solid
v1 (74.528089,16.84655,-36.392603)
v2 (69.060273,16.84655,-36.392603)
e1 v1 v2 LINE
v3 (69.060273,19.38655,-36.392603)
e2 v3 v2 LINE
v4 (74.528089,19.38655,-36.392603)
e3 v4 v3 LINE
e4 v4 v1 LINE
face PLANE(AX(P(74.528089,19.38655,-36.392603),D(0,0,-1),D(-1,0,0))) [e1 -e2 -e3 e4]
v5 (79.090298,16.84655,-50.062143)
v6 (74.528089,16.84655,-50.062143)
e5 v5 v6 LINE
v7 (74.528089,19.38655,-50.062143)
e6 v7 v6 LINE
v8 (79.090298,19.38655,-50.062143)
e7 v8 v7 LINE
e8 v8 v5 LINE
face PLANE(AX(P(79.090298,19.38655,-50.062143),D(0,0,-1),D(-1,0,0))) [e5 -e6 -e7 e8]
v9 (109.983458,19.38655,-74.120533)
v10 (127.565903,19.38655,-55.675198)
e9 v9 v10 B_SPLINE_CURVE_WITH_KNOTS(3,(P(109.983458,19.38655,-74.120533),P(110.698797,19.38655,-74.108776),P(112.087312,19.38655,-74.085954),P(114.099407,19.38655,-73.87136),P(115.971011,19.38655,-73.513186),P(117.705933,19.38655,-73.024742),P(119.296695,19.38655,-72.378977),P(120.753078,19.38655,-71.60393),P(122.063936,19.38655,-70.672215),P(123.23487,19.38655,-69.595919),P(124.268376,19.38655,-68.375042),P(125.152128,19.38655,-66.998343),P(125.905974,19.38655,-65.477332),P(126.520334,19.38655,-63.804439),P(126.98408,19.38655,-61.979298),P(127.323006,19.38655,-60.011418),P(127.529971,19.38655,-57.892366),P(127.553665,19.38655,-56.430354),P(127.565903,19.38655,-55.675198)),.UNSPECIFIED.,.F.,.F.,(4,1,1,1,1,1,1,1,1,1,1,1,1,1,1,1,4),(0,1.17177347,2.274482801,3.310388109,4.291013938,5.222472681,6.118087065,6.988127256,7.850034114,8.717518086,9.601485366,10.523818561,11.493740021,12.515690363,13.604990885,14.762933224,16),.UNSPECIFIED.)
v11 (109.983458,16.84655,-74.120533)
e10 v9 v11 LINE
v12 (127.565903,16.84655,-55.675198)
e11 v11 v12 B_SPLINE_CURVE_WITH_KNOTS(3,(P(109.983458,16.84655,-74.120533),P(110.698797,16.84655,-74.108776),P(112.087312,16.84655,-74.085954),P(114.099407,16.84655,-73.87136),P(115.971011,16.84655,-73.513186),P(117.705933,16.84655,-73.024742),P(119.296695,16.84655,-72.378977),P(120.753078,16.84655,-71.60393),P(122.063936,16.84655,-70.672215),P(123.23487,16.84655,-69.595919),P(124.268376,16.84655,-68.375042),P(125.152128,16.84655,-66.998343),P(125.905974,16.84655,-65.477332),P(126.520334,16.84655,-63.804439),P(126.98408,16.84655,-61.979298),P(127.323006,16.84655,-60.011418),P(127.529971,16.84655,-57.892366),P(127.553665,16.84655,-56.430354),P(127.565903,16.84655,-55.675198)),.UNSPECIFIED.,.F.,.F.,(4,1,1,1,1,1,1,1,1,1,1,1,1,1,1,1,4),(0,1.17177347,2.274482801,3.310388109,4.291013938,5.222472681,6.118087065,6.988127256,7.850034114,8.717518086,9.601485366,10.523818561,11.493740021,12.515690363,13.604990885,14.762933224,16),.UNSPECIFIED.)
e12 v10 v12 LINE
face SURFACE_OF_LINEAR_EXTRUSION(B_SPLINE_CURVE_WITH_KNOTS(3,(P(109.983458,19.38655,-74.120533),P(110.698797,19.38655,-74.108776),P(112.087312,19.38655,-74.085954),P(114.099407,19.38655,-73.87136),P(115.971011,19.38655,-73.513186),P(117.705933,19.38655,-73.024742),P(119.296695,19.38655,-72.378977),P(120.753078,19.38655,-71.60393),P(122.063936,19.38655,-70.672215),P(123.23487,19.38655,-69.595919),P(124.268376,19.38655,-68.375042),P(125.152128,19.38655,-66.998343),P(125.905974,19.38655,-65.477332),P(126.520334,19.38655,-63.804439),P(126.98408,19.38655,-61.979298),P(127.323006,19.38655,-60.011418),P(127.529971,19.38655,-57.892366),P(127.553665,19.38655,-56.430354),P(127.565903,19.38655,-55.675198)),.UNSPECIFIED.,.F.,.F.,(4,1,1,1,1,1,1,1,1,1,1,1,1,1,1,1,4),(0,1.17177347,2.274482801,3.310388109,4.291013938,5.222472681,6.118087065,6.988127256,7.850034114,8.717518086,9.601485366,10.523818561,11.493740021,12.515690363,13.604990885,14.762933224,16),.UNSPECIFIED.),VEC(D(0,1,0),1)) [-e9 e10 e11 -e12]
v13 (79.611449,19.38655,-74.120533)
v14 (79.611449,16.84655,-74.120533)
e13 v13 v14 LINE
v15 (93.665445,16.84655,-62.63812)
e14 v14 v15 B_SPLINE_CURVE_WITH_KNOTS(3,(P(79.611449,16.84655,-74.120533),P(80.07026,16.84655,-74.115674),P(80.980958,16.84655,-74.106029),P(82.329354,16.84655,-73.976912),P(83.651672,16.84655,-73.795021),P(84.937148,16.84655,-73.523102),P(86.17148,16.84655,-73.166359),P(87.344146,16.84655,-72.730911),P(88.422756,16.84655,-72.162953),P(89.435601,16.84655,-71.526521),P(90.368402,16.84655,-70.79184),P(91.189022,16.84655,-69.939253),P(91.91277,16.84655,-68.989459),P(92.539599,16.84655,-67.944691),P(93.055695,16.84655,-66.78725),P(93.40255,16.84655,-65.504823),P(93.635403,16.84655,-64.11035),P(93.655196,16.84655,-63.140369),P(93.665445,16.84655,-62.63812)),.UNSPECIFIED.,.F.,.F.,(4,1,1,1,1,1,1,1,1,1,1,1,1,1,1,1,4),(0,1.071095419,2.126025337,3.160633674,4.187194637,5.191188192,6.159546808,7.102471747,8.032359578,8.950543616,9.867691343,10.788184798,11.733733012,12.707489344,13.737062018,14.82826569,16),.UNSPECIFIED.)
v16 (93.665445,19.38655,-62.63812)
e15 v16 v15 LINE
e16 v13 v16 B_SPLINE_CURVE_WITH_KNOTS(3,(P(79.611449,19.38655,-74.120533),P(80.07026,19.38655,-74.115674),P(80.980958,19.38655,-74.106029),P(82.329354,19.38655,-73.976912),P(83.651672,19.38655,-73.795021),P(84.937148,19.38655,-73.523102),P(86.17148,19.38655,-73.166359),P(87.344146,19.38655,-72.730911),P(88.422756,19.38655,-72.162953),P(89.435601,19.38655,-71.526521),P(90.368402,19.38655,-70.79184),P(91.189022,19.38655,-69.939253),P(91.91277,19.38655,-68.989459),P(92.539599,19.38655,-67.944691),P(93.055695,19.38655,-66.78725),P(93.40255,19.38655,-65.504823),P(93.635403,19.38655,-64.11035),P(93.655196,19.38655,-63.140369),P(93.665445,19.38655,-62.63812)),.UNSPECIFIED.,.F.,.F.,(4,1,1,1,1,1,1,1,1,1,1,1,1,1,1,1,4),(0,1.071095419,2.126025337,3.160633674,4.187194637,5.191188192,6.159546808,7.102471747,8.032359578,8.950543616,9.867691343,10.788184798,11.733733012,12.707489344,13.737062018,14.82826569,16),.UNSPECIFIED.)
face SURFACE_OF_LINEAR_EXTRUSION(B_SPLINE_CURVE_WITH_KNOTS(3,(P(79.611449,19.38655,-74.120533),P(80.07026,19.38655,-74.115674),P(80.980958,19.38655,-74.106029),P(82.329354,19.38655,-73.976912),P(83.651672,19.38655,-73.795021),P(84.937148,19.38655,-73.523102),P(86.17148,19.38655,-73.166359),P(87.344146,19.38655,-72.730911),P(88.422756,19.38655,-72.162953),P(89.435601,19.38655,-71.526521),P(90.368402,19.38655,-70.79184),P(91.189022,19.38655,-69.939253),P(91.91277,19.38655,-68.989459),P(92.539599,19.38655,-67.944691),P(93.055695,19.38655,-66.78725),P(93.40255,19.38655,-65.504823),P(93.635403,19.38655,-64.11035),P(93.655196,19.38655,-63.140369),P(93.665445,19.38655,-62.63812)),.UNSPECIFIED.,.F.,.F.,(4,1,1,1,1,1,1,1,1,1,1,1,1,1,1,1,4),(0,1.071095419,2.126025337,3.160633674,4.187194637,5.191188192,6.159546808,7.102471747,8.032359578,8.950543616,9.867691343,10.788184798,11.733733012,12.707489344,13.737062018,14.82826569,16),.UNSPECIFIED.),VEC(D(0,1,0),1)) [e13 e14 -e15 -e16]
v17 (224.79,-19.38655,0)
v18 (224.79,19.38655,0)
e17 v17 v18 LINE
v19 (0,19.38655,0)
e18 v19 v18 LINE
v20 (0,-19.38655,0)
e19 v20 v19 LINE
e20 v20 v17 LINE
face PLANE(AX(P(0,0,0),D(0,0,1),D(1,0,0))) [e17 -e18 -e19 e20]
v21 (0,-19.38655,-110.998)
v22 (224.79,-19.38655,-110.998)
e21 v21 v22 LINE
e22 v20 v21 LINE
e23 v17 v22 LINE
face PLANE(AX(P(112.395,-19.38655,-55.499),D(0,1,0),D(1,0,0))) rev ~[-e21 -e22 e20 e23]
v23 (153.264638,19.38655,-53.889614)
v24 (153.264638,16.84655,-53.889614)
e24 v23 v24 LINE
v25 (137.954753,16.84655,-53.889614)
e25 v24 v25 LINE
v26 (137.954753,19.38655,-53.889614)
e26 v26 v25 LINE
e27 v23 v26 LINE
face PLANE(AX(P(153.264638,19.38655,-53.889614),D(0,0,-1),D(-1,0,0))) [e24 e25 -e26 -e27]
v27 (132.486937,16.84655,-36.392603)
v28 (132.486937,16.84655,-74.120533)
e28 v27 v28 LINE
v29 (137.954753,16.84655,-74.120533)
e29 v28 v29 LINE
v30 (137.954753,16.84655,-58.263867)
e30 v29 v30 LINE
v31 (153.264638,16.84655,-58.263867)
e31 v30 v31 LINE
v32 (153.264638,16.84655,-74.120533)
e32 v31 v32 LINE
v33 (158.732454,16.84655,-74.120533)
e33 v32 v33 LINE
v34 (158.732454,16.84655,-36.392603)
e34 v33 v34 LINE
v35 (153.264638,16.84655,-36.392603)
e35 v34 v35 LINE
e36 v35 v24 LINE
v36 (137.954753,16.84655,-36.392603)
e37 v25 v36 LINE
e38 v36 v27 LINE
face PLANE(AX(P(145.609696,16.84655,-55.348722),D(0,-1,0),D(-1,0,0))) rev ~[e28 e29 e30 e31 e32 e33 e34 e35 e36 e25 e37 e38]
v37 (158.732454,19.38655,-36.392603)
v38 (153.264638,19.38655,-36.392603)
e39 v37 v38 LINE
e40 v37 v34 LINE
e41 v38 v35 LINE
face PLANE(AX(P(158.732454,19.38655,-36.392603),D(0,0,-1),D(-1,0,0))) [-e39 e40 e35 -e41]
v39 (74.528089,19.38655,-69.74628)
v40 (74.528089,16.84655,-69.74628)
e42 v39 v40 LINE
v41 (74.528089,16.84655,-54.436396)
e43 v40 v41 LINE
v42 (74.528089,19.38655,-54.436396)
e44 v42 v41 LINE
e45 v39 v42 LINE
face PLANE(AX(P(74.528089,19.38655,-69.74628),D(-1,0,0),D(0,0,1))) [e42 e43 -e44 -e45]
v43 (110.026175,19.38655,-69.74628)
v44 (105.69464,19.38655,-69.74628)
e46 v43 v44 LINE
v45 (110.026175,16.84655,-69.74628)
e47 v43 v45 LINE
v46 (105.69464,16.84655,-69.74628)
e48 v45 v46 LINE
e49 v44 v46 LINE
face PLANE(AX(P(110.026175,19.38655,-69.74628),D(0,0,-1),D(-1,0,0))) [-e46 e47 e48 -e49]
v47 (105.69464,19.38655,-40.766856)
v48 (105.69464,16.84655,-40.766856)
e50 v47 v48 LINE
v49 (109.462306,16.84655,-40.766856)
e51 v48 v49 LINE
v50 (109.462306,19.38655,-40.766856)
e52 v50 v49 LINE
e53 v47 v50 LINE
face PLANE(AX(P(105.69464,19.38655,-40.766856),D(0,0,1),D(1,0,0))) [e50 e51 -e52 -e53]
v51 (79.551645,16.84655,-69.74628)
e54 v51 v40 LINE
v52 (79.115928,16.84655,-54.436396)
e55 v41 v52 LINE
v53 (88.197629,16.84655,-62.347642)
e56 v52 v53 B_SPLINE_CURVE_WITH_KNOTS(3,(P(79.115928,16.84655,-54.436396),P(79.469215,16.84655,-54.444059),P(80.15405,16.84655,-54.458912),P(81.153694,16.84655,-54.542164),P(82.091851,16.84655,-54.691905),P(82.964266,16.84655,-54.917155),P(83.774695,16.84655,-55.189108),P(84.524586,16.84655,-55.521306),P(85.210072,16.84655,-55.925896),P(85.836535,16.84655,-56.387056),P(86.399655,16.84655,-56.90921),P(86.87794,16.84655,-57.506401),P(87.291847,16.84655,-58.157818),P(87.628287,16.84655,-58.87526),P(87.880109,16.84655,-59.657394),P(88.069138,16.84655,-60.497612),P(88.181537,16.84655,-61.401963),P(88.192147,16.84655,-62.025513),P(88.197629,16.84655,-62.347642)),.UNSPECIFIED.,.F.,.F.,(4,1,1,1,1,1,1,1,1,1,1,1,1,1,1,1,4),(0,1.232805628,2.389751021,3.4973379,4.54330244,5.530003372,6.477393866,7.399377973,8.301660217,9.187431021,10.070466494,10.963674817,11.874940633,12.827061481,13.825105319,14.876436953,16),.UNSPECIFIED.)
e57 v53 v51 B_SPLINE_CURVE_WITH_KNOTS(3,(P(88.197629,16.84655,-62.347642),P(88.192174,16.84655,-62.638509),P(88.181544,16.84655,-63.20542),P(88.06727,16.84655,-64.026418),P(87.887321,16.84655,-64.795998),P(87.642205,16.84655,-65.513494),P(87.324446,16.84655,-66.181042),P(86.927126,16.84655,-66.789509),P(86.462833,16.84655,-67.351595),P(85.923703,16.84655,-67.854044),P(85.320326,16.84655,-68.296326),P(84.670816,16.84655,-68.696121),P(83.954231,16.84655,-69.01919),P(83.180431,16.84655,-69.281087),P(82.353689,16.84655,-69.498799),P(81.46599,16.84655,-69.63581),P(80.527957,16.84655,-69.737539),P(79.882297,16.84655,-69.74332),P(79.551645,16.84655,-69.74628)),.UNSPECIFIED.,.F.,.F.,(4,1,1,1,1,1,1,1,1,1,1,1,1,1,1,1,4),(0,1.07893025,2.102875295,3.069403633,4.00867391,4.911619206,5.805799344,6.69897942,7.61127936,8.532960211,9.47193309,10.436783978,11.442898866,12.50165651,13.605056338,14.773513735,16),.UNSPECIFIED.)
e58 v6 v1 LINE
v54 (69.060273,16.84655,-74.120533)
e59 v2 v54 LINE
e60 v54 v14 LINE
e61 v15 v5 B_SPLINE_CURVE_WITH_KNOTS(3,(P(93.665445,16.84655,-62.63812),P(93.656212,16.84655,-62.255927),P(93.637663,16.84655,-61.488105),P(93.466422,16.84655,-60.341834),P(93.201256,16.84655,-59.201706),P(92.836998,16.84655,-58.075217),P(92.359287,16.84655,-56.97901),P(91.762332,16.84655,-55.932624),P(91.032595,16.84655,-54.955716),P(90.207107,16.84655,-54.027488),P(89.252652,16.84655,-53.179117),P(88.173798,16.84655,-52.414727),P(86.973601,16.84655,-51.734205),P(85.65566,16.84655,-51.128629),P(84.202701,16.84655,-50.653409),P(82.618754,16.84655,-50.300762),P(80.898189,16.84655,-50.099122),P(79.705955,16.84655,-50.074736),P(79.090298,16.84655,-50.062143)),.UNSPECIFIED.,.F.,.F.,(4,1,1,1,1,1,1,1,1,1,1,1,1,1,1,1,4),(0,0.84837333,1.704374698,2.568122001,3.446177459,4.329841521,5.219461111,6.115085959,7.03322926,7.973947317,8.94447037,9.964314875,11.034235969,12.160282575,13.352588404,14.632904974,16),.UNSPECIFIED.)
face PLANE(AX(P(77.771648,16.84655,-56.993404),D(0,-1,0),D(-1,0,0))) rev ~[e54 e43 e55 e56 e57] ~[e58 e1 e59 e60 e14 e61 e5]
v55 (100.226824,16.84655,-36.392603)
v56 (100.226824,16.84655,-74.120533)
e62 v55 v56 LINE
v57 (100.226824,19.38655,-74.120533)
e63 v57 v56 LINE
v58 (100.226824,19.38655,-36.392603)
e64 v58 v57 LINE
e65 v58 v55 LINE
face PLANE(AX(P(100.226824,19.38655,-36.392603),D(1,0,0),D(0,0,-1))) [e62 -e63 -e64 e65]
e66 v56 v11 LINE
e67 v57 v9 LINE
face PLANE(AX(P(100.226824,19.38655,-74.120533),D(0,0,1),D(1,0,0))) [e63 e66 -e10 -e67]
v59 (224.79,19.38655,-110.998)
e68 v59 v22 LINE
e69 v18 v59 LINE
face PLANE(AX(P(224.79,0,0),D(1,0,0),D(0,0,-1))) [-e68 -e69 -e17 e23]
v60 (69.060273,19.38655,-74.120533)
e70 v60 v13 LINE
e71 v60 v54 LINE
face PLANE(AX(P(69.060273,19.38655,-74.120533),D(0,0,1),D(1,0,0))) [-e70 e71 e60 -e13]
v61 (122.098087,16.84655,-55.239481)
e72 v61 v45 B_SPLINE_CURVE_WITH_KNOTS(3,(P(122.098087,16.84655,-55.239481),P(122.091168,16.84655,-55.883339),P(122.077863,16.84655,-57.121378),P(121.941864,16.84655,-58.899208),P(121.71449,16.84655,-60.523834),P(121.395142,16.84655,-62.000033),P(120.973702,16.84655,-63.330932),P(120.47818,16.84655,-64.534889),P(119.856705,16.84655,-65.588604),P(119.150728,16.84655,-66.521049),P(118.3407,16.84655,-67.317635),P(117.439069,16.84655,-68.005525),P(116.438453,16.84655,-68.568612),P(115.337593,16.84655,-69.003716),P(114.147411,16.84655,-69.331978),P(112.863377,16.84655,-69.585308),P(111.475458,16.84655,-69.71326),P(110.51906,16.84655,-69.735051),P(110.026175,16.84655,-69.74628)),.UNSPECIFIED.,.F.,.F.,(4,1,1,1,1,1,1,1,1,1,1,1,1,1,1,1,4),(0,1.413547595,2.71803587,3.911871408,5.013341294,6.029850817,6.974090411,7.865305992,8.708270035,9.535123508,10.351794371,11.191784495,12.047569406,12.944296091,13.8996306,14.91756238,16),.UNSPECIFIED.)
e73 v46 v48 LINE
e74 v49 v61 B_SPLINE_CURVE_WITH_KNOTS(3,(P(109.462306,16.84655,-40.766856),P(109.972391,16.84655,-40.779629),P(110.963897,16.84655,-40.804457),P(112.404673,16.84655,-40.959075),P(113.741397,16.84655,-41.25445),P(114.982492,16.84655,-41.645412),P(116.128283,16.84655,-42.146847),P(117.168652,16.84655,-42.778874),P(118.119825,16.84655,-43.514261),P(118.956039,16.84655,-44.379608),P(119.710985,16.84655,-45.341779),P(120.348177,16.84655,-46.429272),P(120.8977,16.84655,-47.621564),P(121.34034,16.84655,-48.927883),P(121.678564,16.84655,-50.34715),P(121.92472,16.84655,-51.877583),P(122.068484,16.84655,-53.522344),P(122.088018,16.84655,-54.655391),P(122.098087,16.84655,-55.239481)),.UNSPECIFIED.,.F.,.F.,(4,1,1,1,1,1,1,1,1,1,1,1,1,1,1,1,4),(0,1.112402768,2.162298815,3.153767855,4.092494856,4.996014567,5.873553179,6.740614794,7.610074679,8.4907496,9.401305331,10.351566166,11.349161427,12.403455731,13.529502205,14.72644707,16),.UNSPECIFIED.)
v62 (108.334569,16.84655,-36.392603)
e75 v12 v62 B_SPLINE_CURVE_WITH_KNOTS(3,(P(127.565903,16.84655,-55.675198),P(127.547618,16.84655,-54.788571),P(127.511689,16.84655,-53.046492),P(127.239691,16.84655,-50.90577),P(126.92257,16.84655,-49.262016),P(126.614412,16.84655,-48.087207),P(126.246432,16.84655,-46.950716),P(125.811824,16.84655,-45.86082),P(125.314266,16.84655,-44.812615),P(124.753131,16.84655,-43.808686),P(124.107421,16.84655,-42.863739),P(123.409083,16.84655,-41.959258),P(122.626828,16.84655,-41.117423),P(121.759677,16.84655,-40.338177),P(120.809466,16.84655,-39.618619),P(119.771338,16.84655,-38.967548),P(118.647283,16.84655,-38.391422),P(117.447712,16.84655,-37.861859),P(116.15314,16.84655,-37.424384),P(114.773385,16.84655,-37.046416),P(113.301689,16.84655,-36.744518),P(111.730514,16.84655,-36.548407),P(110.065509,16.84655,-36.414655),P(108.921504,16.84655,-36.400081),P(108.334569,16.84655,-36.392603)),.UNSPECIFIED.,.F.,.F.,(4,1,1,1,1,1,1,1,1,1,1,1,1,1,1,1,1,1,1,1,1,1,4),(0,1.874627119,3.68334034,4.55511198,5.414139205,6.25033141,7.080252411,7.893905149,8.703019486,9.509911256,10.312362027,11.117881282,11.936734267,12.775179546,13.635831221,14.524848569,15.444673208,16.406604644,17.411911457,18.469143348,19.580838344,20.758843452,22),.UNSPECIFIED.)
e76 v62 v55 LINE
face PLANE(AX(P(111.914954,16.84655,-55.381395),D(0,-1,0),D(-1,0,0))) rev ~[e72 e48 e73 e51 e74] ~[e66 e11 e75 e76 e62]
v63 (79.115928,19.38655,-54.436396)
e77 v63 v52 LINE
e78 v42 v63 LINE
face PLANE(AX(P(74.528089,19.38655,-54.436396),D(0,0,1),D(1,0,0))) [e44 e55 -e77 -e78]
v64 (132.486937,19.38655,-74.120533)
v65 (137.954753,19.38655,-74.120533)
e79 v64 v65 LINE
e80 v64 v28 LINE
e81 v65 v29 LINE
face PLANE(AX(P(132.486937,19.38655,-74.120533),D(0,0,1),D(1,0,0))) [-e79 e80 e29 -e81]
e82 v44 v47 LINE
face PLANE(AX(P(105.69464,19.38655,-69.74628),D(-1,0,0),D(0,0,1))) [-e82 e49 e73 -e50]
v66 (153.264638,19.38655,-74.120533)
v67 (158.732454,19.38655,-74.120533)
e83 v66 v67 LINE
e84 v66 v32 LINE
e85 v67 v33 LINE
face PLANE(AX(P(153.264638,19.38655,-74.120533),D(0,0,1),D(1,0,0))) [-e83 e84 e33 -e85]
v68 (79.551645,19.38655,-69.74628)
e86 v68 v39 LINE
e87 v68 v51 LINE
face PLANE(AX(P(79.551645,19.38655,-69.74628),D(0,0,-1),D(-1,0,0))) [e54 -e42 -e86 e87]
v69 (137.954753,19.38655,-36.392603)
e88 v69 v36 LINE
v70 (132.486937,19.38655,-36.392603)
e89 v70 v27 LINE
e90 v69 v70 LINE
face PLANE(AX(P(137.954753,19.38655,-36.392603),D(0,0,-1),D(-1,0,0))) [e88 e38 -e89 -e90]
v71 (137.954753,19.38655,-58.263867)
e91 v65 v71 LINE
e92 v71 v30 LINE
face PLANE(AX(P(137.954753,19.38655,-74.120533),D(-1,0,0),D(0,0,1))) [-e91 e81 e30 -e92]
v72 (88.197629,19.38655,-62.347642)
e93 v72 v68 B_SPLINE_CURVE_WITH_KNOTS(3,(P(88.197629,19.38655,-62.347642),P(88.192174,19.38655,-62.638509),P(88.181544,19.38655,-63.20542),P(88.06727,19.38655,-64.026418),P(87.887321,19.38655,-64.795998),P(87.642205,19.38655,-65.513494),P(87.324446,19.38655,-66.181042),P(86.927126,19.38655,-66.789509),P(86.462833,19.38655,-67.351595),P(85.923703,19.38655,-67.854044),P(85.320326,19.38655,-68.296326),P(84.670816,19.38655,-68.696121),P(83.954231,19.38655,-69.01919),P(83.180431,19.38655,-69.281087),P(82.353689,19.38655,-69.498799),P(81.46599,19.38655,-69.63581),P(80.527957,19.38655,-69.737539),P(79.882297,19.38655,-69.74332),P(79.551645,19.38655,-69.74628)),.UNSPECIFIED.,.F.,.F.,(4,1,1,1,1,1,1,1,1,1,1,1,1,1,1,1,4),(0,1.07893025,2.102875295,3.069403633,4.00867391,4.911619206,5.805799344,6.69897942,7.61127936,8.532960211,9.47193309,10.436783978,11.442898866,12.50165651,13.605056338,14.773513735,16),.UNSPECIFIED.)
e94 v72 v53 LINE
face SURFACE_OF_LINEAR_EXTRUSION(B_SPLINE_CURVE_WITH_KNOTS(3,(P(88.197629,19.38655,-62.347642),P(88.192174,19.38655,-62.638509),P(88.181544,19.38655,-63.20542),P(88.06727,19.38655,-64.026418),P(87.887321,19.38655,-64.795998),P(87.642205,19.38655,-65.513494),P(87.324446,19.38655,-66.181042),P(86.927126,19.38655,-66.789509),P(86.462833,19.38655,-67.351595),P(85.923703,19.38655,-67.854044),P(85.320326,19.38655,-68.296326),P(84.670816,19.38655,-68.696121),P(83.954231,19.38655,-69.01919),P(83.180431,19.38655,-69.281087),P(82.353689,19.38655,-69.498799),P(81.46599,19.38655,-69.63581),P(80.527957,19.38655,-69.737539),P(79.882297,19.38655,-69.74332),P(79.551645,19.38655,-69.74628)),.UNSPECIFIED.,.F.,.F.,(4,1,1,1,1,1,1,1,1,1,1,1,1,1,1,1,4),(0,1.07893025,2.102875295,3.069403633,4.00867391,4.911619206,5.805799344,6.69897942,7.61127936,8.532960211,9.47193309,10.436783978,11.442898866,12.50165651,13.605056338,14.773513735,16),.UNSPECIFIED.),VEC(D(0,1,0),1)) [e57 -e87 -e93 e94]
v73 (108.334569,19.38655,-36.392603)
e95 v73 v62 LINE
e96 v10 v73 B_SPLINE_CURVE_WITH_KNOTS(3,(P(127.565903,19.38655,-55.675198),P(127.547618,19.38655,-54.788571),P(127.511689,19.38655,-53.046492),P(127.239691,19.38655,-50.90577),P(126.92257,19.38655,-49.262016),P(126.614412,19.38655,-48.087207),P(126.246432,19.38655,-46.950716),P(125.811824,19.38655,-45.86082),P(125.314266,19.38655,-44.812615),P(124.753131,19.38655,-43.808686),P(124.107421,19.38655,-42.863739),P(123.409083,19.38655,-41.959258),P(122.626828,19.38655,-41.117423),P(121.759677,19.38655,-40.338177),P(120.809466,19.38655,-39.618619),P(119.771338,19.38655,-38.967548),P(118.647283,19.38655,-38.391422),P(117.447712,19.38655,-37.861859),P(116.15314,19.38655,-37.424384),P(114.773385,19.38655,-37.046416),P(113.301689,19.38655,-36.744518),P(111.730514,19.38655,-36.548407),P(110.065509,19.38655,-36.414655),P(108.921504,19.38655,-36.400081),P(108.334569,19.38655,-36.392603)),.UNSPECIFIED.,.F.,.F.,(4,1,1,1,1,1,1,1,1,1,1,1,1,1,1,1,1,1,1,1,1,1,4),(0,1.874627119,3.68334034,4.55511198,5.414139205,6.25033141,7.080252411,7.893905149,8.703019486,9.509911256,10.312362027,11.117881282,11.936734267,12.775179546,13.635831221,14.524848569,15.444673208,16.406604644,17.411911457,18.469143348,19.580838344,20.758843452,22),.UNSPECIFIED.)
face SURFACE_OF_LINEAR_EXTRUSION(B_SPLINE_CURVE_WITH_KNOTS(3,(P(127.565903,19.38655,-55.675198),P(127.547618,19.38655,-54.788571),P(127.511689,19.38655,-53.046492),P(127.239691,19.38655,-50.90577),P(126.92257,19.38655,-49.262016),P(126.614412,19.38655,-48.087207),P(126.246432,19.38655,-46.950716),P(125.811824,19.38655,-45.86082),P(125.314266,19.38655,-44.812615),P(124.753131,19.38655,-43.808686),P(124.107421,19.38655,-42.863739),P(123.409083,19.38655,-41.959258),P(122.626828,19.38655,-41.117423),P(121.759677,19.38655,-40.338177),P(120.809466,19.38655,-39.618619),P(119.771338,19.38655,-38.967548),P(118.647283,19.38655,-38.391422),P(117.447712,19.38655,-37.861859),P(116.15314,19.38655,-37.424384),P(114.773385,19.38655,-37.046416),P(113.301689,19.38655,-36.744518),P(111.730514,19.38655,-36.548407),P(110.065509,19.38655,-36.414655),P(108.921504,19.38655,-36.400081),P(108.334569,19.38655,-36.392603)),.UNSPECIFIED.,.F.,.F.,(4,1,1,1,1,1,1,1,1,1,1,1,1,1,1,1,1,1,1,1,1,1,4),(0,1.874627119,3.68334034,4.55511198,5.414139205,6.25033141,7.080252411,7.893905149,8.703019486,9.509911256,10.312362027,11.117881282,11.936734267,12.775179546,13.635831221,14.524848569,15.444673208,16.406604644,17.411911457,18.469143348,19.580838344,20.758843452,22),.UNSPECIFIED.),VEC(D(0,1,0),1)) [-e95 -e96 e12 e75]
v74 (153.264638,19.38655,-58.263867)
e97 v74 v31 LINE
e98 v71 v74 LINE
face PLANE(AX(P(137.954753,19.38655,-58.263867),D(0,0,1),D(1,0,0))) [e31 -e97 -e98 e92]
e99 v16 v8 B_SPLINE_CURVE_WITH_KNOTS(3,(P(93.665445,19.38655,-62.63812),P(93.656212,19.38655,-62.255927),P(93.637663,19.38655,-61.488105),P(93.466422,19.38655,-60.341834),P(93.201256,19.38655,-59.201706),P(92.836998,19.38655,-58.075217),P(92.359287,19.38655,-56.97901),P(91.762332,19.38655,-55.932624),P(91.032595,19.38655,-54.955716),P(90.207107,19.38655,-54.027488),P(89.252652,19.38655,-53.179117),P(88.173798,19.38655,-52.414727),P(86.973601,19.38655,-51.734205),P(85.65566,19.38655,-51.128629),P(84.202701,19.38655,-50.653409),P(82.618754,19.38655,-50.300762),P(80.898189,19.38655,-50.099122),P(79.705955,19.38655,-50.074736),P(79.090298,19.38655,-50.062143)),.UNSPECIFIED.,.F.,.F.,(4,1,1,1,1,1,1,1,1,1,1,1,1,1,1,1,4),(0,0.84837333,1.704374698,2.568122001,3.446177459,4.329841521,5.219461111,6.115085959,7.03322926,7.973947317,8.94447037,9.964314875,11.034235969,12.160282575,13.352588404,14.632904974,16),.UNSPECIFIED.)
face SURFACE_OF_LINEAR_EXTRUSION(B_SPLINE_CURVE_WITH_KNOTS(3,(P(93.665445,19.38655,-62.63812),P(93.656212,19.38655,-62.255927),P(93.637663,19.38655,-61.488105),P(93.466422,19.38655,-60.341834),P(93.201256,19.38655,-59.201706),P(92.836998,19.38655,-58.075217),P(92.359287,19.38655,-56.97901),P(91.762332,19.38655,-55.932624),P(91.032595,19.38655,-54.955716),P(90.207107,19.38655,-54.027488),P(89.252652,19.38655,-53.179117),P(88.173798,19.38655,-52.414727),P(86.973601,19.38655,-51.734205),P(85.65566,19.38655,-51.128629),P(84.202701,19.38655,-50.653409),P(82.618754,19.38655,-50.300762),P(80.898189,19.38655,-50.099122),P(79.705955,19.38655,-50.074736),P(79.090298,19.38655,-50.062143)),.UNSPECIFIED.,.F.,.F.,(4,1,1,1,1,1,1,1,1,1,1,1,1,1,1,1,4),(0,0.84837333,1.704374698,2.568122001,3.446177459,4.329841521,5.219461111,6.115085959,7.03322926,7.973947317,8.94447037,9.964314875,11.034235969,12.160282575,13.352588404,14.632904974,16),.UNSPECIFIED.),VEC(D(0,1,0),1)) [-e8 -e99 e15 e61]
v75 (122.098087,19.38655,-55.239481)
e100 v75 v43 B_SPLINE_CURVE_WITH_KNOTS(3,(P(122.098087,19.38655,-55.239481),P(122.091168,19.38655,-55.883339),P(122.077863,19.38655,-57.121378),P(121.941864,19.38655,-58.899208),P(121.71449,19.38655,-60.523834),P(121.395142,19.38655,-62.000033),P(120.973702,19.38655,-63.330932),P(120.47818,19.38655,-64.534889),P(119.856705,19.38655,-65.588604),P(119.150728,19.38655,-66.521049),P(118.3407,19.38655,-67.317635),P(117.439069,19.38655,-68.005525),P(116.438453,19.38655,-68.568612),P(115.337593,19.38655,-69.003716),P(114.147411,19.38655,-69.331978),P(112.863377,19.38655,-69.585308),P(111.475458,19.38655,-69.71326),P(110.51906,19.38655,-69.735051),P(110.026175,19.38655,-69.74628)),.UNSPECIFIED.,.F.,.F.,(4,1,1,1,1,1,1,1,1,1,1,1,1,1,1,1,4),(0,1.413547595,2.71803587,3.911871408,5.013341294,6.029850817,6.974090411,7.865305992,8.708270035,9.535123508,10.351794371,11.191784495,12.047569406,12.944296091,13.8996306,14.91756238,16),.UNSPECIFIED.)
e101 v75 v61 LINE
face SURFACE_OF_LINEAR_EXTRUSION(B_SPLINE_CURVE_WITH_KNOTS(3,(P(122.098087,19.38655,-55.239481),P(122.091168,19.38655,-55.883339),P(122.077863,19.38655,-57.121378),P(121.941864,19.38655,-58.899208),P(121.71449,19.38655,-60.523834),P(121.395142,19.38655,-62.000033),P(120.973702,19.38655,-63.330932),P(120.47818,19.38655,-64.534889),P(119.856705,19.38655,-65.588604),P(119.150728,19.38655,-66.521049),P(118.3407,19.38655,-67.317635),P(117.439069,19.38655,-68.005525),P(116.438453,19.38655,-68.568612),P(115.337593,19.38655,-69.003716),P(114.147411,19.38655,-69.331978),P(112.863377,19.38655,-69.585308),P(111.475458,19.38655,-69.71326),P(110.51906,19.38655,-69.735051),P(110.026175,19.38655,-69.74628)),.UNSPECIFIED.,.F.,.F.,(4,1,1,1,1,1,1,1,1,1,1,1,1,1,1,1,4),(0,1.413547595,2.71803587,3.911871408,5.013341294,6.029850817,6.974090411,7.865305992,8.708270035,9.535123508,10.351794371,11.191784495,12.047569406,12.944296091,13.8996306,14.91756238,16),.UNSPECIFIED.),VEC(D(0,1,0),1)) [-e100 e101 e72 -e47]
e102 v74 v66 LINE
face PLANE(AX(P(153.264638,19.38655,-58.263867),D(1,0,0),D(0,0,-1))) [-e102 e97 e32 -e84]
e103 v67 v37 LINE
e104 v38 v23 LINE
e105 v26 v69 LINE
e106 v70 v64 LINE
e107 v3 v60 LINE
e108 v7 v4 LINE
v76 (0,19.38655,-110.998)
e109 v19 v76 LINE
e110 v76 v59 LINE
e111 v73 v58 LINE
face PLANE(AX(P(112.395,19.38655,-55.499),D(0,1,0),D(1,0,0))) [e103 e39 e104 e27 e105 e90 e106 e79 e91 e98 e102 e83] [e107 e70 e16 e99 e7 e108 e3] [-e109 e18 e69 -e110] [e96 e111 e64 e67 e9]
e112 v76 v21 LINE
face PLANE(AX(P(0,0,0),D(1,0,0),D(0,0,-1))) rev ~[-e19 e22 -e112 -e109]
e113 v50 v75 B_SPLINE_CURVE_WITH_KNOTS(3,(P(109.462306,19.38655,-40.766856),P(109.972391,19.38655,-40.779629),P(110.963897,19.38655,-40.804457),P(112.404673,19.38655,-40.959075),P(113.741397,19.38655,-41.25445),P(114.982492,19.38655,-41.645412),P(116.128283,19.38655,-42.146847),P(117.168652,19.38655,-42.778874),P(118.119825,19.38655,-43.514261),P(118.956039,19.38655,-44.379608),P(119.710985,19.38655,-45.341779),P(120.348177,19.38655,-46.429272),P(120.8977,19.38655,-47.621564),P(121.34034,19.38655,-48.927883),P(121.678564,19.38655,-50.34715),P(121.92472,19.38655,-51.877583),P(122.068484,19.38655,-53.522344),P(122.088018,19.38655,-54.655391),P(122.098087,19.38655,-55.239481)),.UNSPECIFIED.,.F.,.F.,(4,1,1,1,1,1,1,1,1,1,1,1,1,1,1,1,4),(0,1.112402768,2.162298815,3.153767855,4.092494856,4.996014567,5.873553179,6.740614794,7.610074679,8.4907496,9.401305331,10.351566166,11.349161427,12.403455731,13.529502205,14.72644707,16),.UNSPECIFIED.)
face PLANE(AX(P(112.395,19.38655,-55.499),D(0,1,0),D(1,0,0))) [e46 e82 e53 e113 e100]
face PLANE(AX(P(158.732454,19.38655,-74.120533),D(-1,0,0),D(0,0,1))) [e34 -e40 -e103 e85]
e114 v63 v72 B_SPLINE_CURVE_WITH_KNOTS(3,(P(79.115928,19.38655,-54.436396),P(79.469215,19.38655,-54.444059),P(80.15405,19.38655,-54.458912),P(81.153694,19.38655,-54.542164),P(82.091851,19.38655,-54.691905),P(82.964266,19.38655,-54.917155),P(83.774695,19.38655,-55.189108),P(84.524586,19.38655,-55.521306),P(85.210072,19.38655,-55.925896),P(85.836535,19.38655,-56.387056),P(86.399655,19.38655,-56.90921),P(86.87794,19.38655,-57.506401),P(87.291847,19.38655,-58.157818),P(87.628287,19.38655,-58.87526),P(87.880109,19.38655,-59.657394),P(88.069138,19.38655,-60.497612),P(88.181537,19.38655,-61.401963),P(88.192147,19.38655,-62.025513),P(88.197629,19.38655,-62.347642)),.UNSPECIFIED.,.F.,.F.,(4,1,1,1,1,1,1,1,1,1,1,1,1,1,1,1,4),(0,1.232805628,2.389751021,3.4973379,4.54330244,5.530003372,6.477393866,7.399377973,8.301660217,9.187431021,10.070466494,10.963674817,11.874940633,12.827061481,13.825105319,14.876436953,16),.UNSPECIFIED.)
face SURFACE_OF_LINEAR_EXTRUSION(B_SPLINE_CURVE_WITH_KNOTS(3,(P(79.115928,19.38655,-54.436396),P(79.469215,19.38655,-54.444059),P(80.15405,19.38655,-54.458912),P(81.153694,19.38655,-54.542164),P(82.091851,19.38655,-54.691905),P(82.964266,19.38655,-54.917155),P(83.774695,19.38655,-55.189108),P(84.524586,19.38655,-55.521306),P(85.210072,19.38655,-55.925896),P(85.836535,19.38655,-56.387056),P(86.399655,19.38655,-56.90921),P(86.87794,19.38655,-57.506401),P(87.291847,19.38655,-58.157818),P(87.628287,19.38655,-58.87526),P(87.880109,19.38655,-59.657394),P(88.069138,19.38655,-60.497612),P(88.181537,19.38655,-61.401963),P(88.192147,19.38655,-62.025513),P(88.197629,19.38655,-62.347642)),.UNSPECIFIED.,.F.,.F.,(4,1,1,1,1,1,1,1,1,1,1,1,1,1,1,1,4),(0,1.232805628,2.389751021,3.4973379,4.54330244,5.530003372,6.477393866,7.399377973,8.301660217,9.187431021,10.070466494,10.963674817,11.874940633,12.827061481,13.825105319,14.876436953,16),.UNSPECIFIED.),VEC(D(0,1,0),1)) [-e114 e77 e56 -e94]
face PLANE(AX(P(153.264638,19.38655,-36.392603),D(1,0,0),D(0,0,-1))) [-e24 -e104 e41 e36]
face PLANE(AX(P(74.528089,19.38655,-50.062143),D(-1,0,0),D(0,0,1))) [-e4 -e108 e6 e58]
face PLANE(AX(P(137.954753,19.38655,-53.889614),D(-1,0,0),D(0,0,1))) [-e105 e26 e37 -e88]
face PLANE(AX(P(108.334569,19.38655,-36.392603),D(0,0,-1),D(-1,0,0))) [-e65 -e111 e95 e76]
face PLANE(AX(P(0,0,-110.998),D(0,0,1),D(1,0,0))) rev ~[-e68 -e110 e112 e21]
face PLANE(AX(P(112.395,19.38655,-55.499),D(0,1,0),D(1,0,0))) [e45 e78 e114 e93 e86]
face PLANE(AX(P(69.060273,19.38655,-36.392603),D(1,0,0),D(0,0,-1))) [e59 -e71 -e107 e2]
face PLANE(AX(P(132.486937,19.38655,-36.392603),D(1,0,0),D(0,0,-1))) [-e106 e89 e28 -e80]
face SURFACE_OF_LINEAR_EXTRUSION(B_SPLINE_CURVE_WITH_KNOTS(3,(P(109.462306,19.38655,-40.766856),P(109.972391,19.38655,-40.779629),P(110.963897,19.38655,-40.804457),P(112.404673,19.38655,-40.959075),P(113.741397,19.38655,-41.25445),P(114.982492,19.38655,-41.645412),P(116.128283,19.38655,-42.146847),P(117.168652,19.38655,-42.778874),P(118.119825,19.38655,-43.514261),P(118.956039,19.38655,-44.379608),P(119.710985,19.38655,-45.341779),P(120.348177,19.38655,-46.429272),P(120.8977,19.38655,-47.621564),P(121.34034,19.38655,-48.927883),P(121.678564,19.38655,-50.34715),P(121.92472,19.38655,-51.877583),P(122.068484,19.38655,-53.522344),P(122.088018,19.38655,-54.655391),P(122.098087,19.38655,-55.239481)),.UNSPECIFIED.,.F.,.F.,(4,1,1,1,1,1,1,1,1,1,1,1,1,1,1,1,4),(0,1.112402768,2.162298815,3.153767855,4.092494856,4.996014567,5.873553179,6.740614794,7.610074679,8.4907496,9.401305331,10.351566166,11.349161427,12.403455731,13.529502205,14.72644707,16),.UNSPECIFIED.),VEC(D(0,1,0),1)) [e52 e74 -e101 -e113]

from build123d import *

# Parameters (mm, degrees)
SKETCH1_W           = 224.79
SKETCH1_H           = 110.998
BOSS_EXTRUDE1_DEPTH = 19.38655
CUT_EXTRUDE1_DEPTH  = 2.54


with BuildPart() as part:
    # Sketch1 → Boss-Extrude1 (new, symmetric)
    with BuildSketch(Plane(origin=(0, 0, 0), x_dir=(1, 0, 0), z_dir=(0, 1, 0))):
        with Locations((112.395, 55.499)):
            Rectangle(SKETCH1_W, SKETCH1_H)
    extrude(amount=BOSS_EXTRUDE1_DEPTH, both=True)

    # Sketch2 → Cut-Extrude1 (cut)
    # profile 1 of 3: a face of its own
    with BuildSketch(Plane(origin=(0, 19.38655, 0), x_dir=(1, 0, 0), z_dir=(0, 1, 0))):
        with BuildLine():
            add(Edge.make_bspline(
                [(93.6654446, 62.638119725), (93.65621175, 62.255926888), (93.637663033, 61.488104777), (93.466421809, 60.341834085), (93.201255703, 59.201705874), (92.836997723, 58.075217304), (92.359286935, 56.979010165), (91.762331794, 55.932624231), (91.032595392, 54.955716054), (90.207106522, 54.027487516), (89.252652089, 53.179116743), (88.173798237, 52.414727304), (86.973600637, 51.734204765), (85.655660468, 51.128628725), (84.202701193, 50.653409294), (82.618753702, 50.300761726), (80.898189452, 50.099121533), (79.705954978, 50.07473573), (79.09029785, 50.062143162)],
                knots=[0, 0, 0, 0, 0.84837333, 1.704374698, 2.568122001, 3.446177459, 4.329841521, 5.219461111, 6.115085959, 7.03322926, 7.973947317, 8.94447037, 9.964314875, 11.034235969, 12.160282575, 13.352588404, 14.632904974, 16, 16, 16, 16], degree=3))
            Line((79.09029785, 50.062143162), (74.528088962, 50.062143162))
            Line((74.528088962, 50.062143162), (74.528088962, 36.39260342))
            Line((74.528088962, 36.39260342), (69.060273065, 36.39260342))
            Line((69.060273065, 36.39260342), (69.060273065, 74.120533108))
            Line((69.060273065, 74.120533108), (79.611449053, 74.120533108))
            add(Edge.make_bspline(
                [(79.611449053, 74.120533108), (80.070260309, 74.115673927), (80.980958213, 74.106028903), (82.329353652, 73.976911734), (83.651671763, 73.795021467), (84.937147693, 73.523102459), (86.171480276, 73.166358976), (87.344146306, 72.730911072), (88.422755699, 72.162952721), (89.43560104, 71.526521333), (90.368402205, 70.791840353), (91.189022047, 69.939252772), (91.912770344, 68.989458848), (92.539599198, 67.944691466), (93.055694596, 66.787250357), (93.402550005, 65.504823346), (93.635402669, 64.110350409), (93.655195832, 63.140369447), (93.6654446, 62.638119725)],
                knots=[0, 0, 0, 0, 1.071095419, 2.126025337, 3.160633674, 4.187194637, 5.191188192, 6.159546808, 7.102471747, 8.032359578, 8.950543616, 9.867691343, 10.788184798, 11.733733012, 12.707489344, 13.737062018, 14.82826569, 16, 16, 16, 16], degree=3))
        make_face()
        with BuildLine():
            add(Edge.make_bspline(
                [(88.197628703, 62.347642005), (88.192174404, 62.63850916), (88.18154377, 63.205420092), (88.067270065, 64.026417972), (87.887321266, 64.795998376), (87.642204989, 65.513494356), (87.324445545, 66.181041679), (86.9271256, 66.789508742), (86.462833318, 67.351595169), (85.92370252, 67.854044286), (85.320326107, 68.296325862), (84.670815804, 68.696121206), (83.954231053, 69.019190265), (83.180431142, 69.281086893), (82.353689397, 69.498799431), (81.465989989, 69.635809834), (80.527957319, 69.737538529), (79.882297045, 69.743319744), (79.551644817, 69.74628039)],
                knots=[0, 0, 0, 0, 1.07893025, 2.102875295, 3.069403633, 4.00867391, 4.911619206, 5.805799344, 6.69897942, 7.61127936, 8.532960211, 9.47193309, 10.436783978, 11.442898866, 12.50165651, 13.605056338, 14.773513735, 16, 16, 16, 16], degree=3))
            Line((79.551644817, 69.74628039), (74.528088962, 69.74628039))
            Line((74.528088962, 69.74628039), (74.528088962, 54.43639588))
            Line((74.528088962, 54.43639588), (79.115928237, 54.43639588))
            add(Edge.make_bspline(
                [(79.115928237, 54.43639588), (79.469215163, 54.444058583), (80.154049634, 54.458912469), (81.153694325, 54.542163566), (82.091850755, 54.691905292), (82.964265919, 54.917155421), (83.774695488, 55.18910777), (84.524586407, 55.521306188), (85.210072438, 55.925895812), (85.836535364, 56.387055958), (86.399655255, 56.909209561), (86.877940326, 57.506401351), (87.291847487, 58.157818385), (87.628287432, 58.875259995), (87.880108968, 59.657394144), (88.069138486, 60.497611643), (88.18153711, 61.401962584), (88.192147378, 62.025512532), (88.197628703, 62.347642005)],
                knots=[0, 0, 0, 0, 1.232805628, 2.389751021, 3.4973379, 4.54330244, 5.530003372, 6.477393866, 7.399377973, 8.301660217, 9.187431021, 10.070466494, 10.963674817, 11.874940633, 12.827061481, 13.825105319, 14.876436953, 16, 16, 16, 16], degree=3))
        make_face(mode=Mode.SUBTRACT)
    # profile 2 of 3: a face of its own
    with BuildSketch(Plane(origin=(0, 19.38655, 0), x_dir=(1, 0, 0), z_dir=(0, 1, 0))):
        with BuildLine():
            add(Edge.make_bspline(
                [(127.56590316, 55.675197919), (127.547617612, 54.78857119), (127.511689457, 53.046492477), (127.23969054, 50.905769989), (126.922569652, 49.262016243), (126.614411717, 48.087206761), (126.246431872, 46.950715858), (125.811824352, 45.860819894), (125.314265868, 44.812615172), (124.753130965, 43.8086857), (124.107420568, 42.863739226), (123.409082848, 41.959258432), (122.626828334, 41.117422828), (121.7596775, 40.338177311), (120.809466051, 39.618619159), (119.771337822, 38.967548349), (118.647283346, 38.391422091), (117.447711896, 37.861858683), (116.153140186, 37.424384305), (114.773384937, 37.046415803), (113.301688648, 36.744518404), (111.730514486, 36.548407326), (110.065508535, 36.414654635), (108.921503761, 36.400080642), (108.334569436, 36.39260342)],
                knots=[0, 0, 0, 0, 1.874627119, 3.68334034, 4.55511198, 5.414139205, 6.25033141, 7.080252411, 7.893905149, 8.703019486, 9.509911256, 10.312362027, 11.117881282, 11.936734267, 12.775179546, 13.635831221, 14.524848569, 15.444673208, 16.406604644, 17.411911457, 18.469143348, 19.580838344, 20.758843452, 22, 22, 22, 22], degree=3))
            Line((108.334569436, 36.39260342), (100.226823676, 36.39260342))
            Line((100.226823676, 36.39260342), (100.226823676, 74.120533108))
            Line((100.226823676, 74.120533108), (109.983457667, 74.120533108))
            add(Edge.make_bspline(
                [(109.983457667, 74.120533108), (110.698796565, 74.108775888), (112.087312401, 74.085954417), (114.099407103, 73.871359676), (115.971010991, 73.513186255), (117.705932553, 73.024742171), (119.296694788, 72.37897733), (120.753078111, 71.603929555), (122.063935524, 70.672214529), (123.234870408, 69.595919293), (124.268375898, 68.375042443), (125.15212849, 66.998343044), (125.905974417, 65.477332321), (126.520334079, 63.804439371), (126.984079723, 61.979297568), (127.323005556, 60.011417912), (127.529971236, 57.892365797), (127.553664927, 56.430354144), (127.56590316, 55.675197919)],
                knots=[0, 0, 0, 0, 1.17177347, 2.274482801, 3.310388109, 4.291013938, 5.222472681, 6.118087065, 6.988127256, 7.850034114, 8.717518086, 9.601485366, 10.523818561, 11.493740021, 12.515690363, 13.604990885, 14.762933224, 16, 16, 16, 16], degree=3))
        make_face()
        with BuildLine():
            add(Edge.make_bspline(
                [(122.098087263, 55.239481339), (122.091167759, 55.883338842), (122.07786261, 57.121378364), (121.941863816, 58.899207539), (121.714490077, 60.523833747), (121.395141619, 62.00003254), (120.973701982, 63.330931753), (120.478179626, 64.534888844), (119.856705316, 65.588603714), (119.150728012, 66.521049001), (118.340699821, 67.317635038), (117.439068976, 68.005524695), (116.438452675, 68.568612468), (115.337592989, 69.003716428), (114.147410598, 69.331977904), (112.863376849, 69.585308184), (111.475458259, 69.713259964), (110.519060263, 69.735050507), (110.026174979, 69.74628039)],
                knots=[0, 0, 0, 0, 1.413547595, 2.71803587, 3.911871408, 5.013341294, 6.029850817, 6.974090411, 7.865305992, 8.708270035, 9.535123508, 10.351794371, 11.191784495, 12.047569406, 12.944296091, 13.8996306, 14.91756238, 16, 16, 16, 16], degree=3))
            Line((110.026174979, 69.74628039), (105.694639573, 69.74628039))
            Line((105.694639573, 69.74628039), (105.694639573, 40.766856138))
            Line((105.694639573, 40.766856138), (109.462306464, 40.766856138))
            add(Edge.make_bspline(
                [(109.462306464, 40.766856138), (109.972390662, 40.779628967), (110.963897054, 40.804456912), (112.404673192, 40.959074575), (113.741396992, 41.254449715), (114.982492322, 41.645412228), (116.128283102, 42.146846942), (117.168651881, 42.778873861), (118.119824521, 43.514260641), (118.95603885, 44.379608434), (119.710984868, 45.341779056), (120.348177326, 46.429272224), (120.897700383, 47.621563924), (121.340339899, 48.927882581), (121.678563879, 50.347150333), (121.924720399, 51.877582623), (122.068484344, 53.522343822), (122.088017719, 54.655390557), (122.098087263, 55.239481339)],
                knots=[0, 0, 0, 0, 1.112402768, 2.162298815, 3.153767855, 4.092494856, 4.996014567, 5.873553179, 6.740614794, 7.610074679, 8.4907496, 9.401305331, 10.351566166, 11.349161427, 12.403455731, 13.529502205, 14.72644707, 16, 16, 16, 16], degree=3))
        make_face(mode=Mode.SUBTRACT)
    # profile 3 of 3: a face of its own
    with BuildSketch(Plane(origin=(0, 19.38655, 0), x_dir=(1, 0, 0), z_dir=(0, 1, 0))):
        Polygon((158.732453771, 36.39260342), (153.264637875, 36.39260342), (153.264637875, 53.88961429), (137.954753364, 53.88961429), (137.954753364, 36.39260342), (132.486937467, 36.39260342), (132.486937467, 74.120533108), (137.954753364, 74.120533108), (137.954753364, 58.263867007), (153.264637875, 58.263867007), (153.264637875, 74.120533108), (158.732453771, 74.120533108), align=None)
    extrude(amount=-CUT_EXTRUDE1_DEPTH, mode=Mode.SUBTRACT)


solid = part.part
